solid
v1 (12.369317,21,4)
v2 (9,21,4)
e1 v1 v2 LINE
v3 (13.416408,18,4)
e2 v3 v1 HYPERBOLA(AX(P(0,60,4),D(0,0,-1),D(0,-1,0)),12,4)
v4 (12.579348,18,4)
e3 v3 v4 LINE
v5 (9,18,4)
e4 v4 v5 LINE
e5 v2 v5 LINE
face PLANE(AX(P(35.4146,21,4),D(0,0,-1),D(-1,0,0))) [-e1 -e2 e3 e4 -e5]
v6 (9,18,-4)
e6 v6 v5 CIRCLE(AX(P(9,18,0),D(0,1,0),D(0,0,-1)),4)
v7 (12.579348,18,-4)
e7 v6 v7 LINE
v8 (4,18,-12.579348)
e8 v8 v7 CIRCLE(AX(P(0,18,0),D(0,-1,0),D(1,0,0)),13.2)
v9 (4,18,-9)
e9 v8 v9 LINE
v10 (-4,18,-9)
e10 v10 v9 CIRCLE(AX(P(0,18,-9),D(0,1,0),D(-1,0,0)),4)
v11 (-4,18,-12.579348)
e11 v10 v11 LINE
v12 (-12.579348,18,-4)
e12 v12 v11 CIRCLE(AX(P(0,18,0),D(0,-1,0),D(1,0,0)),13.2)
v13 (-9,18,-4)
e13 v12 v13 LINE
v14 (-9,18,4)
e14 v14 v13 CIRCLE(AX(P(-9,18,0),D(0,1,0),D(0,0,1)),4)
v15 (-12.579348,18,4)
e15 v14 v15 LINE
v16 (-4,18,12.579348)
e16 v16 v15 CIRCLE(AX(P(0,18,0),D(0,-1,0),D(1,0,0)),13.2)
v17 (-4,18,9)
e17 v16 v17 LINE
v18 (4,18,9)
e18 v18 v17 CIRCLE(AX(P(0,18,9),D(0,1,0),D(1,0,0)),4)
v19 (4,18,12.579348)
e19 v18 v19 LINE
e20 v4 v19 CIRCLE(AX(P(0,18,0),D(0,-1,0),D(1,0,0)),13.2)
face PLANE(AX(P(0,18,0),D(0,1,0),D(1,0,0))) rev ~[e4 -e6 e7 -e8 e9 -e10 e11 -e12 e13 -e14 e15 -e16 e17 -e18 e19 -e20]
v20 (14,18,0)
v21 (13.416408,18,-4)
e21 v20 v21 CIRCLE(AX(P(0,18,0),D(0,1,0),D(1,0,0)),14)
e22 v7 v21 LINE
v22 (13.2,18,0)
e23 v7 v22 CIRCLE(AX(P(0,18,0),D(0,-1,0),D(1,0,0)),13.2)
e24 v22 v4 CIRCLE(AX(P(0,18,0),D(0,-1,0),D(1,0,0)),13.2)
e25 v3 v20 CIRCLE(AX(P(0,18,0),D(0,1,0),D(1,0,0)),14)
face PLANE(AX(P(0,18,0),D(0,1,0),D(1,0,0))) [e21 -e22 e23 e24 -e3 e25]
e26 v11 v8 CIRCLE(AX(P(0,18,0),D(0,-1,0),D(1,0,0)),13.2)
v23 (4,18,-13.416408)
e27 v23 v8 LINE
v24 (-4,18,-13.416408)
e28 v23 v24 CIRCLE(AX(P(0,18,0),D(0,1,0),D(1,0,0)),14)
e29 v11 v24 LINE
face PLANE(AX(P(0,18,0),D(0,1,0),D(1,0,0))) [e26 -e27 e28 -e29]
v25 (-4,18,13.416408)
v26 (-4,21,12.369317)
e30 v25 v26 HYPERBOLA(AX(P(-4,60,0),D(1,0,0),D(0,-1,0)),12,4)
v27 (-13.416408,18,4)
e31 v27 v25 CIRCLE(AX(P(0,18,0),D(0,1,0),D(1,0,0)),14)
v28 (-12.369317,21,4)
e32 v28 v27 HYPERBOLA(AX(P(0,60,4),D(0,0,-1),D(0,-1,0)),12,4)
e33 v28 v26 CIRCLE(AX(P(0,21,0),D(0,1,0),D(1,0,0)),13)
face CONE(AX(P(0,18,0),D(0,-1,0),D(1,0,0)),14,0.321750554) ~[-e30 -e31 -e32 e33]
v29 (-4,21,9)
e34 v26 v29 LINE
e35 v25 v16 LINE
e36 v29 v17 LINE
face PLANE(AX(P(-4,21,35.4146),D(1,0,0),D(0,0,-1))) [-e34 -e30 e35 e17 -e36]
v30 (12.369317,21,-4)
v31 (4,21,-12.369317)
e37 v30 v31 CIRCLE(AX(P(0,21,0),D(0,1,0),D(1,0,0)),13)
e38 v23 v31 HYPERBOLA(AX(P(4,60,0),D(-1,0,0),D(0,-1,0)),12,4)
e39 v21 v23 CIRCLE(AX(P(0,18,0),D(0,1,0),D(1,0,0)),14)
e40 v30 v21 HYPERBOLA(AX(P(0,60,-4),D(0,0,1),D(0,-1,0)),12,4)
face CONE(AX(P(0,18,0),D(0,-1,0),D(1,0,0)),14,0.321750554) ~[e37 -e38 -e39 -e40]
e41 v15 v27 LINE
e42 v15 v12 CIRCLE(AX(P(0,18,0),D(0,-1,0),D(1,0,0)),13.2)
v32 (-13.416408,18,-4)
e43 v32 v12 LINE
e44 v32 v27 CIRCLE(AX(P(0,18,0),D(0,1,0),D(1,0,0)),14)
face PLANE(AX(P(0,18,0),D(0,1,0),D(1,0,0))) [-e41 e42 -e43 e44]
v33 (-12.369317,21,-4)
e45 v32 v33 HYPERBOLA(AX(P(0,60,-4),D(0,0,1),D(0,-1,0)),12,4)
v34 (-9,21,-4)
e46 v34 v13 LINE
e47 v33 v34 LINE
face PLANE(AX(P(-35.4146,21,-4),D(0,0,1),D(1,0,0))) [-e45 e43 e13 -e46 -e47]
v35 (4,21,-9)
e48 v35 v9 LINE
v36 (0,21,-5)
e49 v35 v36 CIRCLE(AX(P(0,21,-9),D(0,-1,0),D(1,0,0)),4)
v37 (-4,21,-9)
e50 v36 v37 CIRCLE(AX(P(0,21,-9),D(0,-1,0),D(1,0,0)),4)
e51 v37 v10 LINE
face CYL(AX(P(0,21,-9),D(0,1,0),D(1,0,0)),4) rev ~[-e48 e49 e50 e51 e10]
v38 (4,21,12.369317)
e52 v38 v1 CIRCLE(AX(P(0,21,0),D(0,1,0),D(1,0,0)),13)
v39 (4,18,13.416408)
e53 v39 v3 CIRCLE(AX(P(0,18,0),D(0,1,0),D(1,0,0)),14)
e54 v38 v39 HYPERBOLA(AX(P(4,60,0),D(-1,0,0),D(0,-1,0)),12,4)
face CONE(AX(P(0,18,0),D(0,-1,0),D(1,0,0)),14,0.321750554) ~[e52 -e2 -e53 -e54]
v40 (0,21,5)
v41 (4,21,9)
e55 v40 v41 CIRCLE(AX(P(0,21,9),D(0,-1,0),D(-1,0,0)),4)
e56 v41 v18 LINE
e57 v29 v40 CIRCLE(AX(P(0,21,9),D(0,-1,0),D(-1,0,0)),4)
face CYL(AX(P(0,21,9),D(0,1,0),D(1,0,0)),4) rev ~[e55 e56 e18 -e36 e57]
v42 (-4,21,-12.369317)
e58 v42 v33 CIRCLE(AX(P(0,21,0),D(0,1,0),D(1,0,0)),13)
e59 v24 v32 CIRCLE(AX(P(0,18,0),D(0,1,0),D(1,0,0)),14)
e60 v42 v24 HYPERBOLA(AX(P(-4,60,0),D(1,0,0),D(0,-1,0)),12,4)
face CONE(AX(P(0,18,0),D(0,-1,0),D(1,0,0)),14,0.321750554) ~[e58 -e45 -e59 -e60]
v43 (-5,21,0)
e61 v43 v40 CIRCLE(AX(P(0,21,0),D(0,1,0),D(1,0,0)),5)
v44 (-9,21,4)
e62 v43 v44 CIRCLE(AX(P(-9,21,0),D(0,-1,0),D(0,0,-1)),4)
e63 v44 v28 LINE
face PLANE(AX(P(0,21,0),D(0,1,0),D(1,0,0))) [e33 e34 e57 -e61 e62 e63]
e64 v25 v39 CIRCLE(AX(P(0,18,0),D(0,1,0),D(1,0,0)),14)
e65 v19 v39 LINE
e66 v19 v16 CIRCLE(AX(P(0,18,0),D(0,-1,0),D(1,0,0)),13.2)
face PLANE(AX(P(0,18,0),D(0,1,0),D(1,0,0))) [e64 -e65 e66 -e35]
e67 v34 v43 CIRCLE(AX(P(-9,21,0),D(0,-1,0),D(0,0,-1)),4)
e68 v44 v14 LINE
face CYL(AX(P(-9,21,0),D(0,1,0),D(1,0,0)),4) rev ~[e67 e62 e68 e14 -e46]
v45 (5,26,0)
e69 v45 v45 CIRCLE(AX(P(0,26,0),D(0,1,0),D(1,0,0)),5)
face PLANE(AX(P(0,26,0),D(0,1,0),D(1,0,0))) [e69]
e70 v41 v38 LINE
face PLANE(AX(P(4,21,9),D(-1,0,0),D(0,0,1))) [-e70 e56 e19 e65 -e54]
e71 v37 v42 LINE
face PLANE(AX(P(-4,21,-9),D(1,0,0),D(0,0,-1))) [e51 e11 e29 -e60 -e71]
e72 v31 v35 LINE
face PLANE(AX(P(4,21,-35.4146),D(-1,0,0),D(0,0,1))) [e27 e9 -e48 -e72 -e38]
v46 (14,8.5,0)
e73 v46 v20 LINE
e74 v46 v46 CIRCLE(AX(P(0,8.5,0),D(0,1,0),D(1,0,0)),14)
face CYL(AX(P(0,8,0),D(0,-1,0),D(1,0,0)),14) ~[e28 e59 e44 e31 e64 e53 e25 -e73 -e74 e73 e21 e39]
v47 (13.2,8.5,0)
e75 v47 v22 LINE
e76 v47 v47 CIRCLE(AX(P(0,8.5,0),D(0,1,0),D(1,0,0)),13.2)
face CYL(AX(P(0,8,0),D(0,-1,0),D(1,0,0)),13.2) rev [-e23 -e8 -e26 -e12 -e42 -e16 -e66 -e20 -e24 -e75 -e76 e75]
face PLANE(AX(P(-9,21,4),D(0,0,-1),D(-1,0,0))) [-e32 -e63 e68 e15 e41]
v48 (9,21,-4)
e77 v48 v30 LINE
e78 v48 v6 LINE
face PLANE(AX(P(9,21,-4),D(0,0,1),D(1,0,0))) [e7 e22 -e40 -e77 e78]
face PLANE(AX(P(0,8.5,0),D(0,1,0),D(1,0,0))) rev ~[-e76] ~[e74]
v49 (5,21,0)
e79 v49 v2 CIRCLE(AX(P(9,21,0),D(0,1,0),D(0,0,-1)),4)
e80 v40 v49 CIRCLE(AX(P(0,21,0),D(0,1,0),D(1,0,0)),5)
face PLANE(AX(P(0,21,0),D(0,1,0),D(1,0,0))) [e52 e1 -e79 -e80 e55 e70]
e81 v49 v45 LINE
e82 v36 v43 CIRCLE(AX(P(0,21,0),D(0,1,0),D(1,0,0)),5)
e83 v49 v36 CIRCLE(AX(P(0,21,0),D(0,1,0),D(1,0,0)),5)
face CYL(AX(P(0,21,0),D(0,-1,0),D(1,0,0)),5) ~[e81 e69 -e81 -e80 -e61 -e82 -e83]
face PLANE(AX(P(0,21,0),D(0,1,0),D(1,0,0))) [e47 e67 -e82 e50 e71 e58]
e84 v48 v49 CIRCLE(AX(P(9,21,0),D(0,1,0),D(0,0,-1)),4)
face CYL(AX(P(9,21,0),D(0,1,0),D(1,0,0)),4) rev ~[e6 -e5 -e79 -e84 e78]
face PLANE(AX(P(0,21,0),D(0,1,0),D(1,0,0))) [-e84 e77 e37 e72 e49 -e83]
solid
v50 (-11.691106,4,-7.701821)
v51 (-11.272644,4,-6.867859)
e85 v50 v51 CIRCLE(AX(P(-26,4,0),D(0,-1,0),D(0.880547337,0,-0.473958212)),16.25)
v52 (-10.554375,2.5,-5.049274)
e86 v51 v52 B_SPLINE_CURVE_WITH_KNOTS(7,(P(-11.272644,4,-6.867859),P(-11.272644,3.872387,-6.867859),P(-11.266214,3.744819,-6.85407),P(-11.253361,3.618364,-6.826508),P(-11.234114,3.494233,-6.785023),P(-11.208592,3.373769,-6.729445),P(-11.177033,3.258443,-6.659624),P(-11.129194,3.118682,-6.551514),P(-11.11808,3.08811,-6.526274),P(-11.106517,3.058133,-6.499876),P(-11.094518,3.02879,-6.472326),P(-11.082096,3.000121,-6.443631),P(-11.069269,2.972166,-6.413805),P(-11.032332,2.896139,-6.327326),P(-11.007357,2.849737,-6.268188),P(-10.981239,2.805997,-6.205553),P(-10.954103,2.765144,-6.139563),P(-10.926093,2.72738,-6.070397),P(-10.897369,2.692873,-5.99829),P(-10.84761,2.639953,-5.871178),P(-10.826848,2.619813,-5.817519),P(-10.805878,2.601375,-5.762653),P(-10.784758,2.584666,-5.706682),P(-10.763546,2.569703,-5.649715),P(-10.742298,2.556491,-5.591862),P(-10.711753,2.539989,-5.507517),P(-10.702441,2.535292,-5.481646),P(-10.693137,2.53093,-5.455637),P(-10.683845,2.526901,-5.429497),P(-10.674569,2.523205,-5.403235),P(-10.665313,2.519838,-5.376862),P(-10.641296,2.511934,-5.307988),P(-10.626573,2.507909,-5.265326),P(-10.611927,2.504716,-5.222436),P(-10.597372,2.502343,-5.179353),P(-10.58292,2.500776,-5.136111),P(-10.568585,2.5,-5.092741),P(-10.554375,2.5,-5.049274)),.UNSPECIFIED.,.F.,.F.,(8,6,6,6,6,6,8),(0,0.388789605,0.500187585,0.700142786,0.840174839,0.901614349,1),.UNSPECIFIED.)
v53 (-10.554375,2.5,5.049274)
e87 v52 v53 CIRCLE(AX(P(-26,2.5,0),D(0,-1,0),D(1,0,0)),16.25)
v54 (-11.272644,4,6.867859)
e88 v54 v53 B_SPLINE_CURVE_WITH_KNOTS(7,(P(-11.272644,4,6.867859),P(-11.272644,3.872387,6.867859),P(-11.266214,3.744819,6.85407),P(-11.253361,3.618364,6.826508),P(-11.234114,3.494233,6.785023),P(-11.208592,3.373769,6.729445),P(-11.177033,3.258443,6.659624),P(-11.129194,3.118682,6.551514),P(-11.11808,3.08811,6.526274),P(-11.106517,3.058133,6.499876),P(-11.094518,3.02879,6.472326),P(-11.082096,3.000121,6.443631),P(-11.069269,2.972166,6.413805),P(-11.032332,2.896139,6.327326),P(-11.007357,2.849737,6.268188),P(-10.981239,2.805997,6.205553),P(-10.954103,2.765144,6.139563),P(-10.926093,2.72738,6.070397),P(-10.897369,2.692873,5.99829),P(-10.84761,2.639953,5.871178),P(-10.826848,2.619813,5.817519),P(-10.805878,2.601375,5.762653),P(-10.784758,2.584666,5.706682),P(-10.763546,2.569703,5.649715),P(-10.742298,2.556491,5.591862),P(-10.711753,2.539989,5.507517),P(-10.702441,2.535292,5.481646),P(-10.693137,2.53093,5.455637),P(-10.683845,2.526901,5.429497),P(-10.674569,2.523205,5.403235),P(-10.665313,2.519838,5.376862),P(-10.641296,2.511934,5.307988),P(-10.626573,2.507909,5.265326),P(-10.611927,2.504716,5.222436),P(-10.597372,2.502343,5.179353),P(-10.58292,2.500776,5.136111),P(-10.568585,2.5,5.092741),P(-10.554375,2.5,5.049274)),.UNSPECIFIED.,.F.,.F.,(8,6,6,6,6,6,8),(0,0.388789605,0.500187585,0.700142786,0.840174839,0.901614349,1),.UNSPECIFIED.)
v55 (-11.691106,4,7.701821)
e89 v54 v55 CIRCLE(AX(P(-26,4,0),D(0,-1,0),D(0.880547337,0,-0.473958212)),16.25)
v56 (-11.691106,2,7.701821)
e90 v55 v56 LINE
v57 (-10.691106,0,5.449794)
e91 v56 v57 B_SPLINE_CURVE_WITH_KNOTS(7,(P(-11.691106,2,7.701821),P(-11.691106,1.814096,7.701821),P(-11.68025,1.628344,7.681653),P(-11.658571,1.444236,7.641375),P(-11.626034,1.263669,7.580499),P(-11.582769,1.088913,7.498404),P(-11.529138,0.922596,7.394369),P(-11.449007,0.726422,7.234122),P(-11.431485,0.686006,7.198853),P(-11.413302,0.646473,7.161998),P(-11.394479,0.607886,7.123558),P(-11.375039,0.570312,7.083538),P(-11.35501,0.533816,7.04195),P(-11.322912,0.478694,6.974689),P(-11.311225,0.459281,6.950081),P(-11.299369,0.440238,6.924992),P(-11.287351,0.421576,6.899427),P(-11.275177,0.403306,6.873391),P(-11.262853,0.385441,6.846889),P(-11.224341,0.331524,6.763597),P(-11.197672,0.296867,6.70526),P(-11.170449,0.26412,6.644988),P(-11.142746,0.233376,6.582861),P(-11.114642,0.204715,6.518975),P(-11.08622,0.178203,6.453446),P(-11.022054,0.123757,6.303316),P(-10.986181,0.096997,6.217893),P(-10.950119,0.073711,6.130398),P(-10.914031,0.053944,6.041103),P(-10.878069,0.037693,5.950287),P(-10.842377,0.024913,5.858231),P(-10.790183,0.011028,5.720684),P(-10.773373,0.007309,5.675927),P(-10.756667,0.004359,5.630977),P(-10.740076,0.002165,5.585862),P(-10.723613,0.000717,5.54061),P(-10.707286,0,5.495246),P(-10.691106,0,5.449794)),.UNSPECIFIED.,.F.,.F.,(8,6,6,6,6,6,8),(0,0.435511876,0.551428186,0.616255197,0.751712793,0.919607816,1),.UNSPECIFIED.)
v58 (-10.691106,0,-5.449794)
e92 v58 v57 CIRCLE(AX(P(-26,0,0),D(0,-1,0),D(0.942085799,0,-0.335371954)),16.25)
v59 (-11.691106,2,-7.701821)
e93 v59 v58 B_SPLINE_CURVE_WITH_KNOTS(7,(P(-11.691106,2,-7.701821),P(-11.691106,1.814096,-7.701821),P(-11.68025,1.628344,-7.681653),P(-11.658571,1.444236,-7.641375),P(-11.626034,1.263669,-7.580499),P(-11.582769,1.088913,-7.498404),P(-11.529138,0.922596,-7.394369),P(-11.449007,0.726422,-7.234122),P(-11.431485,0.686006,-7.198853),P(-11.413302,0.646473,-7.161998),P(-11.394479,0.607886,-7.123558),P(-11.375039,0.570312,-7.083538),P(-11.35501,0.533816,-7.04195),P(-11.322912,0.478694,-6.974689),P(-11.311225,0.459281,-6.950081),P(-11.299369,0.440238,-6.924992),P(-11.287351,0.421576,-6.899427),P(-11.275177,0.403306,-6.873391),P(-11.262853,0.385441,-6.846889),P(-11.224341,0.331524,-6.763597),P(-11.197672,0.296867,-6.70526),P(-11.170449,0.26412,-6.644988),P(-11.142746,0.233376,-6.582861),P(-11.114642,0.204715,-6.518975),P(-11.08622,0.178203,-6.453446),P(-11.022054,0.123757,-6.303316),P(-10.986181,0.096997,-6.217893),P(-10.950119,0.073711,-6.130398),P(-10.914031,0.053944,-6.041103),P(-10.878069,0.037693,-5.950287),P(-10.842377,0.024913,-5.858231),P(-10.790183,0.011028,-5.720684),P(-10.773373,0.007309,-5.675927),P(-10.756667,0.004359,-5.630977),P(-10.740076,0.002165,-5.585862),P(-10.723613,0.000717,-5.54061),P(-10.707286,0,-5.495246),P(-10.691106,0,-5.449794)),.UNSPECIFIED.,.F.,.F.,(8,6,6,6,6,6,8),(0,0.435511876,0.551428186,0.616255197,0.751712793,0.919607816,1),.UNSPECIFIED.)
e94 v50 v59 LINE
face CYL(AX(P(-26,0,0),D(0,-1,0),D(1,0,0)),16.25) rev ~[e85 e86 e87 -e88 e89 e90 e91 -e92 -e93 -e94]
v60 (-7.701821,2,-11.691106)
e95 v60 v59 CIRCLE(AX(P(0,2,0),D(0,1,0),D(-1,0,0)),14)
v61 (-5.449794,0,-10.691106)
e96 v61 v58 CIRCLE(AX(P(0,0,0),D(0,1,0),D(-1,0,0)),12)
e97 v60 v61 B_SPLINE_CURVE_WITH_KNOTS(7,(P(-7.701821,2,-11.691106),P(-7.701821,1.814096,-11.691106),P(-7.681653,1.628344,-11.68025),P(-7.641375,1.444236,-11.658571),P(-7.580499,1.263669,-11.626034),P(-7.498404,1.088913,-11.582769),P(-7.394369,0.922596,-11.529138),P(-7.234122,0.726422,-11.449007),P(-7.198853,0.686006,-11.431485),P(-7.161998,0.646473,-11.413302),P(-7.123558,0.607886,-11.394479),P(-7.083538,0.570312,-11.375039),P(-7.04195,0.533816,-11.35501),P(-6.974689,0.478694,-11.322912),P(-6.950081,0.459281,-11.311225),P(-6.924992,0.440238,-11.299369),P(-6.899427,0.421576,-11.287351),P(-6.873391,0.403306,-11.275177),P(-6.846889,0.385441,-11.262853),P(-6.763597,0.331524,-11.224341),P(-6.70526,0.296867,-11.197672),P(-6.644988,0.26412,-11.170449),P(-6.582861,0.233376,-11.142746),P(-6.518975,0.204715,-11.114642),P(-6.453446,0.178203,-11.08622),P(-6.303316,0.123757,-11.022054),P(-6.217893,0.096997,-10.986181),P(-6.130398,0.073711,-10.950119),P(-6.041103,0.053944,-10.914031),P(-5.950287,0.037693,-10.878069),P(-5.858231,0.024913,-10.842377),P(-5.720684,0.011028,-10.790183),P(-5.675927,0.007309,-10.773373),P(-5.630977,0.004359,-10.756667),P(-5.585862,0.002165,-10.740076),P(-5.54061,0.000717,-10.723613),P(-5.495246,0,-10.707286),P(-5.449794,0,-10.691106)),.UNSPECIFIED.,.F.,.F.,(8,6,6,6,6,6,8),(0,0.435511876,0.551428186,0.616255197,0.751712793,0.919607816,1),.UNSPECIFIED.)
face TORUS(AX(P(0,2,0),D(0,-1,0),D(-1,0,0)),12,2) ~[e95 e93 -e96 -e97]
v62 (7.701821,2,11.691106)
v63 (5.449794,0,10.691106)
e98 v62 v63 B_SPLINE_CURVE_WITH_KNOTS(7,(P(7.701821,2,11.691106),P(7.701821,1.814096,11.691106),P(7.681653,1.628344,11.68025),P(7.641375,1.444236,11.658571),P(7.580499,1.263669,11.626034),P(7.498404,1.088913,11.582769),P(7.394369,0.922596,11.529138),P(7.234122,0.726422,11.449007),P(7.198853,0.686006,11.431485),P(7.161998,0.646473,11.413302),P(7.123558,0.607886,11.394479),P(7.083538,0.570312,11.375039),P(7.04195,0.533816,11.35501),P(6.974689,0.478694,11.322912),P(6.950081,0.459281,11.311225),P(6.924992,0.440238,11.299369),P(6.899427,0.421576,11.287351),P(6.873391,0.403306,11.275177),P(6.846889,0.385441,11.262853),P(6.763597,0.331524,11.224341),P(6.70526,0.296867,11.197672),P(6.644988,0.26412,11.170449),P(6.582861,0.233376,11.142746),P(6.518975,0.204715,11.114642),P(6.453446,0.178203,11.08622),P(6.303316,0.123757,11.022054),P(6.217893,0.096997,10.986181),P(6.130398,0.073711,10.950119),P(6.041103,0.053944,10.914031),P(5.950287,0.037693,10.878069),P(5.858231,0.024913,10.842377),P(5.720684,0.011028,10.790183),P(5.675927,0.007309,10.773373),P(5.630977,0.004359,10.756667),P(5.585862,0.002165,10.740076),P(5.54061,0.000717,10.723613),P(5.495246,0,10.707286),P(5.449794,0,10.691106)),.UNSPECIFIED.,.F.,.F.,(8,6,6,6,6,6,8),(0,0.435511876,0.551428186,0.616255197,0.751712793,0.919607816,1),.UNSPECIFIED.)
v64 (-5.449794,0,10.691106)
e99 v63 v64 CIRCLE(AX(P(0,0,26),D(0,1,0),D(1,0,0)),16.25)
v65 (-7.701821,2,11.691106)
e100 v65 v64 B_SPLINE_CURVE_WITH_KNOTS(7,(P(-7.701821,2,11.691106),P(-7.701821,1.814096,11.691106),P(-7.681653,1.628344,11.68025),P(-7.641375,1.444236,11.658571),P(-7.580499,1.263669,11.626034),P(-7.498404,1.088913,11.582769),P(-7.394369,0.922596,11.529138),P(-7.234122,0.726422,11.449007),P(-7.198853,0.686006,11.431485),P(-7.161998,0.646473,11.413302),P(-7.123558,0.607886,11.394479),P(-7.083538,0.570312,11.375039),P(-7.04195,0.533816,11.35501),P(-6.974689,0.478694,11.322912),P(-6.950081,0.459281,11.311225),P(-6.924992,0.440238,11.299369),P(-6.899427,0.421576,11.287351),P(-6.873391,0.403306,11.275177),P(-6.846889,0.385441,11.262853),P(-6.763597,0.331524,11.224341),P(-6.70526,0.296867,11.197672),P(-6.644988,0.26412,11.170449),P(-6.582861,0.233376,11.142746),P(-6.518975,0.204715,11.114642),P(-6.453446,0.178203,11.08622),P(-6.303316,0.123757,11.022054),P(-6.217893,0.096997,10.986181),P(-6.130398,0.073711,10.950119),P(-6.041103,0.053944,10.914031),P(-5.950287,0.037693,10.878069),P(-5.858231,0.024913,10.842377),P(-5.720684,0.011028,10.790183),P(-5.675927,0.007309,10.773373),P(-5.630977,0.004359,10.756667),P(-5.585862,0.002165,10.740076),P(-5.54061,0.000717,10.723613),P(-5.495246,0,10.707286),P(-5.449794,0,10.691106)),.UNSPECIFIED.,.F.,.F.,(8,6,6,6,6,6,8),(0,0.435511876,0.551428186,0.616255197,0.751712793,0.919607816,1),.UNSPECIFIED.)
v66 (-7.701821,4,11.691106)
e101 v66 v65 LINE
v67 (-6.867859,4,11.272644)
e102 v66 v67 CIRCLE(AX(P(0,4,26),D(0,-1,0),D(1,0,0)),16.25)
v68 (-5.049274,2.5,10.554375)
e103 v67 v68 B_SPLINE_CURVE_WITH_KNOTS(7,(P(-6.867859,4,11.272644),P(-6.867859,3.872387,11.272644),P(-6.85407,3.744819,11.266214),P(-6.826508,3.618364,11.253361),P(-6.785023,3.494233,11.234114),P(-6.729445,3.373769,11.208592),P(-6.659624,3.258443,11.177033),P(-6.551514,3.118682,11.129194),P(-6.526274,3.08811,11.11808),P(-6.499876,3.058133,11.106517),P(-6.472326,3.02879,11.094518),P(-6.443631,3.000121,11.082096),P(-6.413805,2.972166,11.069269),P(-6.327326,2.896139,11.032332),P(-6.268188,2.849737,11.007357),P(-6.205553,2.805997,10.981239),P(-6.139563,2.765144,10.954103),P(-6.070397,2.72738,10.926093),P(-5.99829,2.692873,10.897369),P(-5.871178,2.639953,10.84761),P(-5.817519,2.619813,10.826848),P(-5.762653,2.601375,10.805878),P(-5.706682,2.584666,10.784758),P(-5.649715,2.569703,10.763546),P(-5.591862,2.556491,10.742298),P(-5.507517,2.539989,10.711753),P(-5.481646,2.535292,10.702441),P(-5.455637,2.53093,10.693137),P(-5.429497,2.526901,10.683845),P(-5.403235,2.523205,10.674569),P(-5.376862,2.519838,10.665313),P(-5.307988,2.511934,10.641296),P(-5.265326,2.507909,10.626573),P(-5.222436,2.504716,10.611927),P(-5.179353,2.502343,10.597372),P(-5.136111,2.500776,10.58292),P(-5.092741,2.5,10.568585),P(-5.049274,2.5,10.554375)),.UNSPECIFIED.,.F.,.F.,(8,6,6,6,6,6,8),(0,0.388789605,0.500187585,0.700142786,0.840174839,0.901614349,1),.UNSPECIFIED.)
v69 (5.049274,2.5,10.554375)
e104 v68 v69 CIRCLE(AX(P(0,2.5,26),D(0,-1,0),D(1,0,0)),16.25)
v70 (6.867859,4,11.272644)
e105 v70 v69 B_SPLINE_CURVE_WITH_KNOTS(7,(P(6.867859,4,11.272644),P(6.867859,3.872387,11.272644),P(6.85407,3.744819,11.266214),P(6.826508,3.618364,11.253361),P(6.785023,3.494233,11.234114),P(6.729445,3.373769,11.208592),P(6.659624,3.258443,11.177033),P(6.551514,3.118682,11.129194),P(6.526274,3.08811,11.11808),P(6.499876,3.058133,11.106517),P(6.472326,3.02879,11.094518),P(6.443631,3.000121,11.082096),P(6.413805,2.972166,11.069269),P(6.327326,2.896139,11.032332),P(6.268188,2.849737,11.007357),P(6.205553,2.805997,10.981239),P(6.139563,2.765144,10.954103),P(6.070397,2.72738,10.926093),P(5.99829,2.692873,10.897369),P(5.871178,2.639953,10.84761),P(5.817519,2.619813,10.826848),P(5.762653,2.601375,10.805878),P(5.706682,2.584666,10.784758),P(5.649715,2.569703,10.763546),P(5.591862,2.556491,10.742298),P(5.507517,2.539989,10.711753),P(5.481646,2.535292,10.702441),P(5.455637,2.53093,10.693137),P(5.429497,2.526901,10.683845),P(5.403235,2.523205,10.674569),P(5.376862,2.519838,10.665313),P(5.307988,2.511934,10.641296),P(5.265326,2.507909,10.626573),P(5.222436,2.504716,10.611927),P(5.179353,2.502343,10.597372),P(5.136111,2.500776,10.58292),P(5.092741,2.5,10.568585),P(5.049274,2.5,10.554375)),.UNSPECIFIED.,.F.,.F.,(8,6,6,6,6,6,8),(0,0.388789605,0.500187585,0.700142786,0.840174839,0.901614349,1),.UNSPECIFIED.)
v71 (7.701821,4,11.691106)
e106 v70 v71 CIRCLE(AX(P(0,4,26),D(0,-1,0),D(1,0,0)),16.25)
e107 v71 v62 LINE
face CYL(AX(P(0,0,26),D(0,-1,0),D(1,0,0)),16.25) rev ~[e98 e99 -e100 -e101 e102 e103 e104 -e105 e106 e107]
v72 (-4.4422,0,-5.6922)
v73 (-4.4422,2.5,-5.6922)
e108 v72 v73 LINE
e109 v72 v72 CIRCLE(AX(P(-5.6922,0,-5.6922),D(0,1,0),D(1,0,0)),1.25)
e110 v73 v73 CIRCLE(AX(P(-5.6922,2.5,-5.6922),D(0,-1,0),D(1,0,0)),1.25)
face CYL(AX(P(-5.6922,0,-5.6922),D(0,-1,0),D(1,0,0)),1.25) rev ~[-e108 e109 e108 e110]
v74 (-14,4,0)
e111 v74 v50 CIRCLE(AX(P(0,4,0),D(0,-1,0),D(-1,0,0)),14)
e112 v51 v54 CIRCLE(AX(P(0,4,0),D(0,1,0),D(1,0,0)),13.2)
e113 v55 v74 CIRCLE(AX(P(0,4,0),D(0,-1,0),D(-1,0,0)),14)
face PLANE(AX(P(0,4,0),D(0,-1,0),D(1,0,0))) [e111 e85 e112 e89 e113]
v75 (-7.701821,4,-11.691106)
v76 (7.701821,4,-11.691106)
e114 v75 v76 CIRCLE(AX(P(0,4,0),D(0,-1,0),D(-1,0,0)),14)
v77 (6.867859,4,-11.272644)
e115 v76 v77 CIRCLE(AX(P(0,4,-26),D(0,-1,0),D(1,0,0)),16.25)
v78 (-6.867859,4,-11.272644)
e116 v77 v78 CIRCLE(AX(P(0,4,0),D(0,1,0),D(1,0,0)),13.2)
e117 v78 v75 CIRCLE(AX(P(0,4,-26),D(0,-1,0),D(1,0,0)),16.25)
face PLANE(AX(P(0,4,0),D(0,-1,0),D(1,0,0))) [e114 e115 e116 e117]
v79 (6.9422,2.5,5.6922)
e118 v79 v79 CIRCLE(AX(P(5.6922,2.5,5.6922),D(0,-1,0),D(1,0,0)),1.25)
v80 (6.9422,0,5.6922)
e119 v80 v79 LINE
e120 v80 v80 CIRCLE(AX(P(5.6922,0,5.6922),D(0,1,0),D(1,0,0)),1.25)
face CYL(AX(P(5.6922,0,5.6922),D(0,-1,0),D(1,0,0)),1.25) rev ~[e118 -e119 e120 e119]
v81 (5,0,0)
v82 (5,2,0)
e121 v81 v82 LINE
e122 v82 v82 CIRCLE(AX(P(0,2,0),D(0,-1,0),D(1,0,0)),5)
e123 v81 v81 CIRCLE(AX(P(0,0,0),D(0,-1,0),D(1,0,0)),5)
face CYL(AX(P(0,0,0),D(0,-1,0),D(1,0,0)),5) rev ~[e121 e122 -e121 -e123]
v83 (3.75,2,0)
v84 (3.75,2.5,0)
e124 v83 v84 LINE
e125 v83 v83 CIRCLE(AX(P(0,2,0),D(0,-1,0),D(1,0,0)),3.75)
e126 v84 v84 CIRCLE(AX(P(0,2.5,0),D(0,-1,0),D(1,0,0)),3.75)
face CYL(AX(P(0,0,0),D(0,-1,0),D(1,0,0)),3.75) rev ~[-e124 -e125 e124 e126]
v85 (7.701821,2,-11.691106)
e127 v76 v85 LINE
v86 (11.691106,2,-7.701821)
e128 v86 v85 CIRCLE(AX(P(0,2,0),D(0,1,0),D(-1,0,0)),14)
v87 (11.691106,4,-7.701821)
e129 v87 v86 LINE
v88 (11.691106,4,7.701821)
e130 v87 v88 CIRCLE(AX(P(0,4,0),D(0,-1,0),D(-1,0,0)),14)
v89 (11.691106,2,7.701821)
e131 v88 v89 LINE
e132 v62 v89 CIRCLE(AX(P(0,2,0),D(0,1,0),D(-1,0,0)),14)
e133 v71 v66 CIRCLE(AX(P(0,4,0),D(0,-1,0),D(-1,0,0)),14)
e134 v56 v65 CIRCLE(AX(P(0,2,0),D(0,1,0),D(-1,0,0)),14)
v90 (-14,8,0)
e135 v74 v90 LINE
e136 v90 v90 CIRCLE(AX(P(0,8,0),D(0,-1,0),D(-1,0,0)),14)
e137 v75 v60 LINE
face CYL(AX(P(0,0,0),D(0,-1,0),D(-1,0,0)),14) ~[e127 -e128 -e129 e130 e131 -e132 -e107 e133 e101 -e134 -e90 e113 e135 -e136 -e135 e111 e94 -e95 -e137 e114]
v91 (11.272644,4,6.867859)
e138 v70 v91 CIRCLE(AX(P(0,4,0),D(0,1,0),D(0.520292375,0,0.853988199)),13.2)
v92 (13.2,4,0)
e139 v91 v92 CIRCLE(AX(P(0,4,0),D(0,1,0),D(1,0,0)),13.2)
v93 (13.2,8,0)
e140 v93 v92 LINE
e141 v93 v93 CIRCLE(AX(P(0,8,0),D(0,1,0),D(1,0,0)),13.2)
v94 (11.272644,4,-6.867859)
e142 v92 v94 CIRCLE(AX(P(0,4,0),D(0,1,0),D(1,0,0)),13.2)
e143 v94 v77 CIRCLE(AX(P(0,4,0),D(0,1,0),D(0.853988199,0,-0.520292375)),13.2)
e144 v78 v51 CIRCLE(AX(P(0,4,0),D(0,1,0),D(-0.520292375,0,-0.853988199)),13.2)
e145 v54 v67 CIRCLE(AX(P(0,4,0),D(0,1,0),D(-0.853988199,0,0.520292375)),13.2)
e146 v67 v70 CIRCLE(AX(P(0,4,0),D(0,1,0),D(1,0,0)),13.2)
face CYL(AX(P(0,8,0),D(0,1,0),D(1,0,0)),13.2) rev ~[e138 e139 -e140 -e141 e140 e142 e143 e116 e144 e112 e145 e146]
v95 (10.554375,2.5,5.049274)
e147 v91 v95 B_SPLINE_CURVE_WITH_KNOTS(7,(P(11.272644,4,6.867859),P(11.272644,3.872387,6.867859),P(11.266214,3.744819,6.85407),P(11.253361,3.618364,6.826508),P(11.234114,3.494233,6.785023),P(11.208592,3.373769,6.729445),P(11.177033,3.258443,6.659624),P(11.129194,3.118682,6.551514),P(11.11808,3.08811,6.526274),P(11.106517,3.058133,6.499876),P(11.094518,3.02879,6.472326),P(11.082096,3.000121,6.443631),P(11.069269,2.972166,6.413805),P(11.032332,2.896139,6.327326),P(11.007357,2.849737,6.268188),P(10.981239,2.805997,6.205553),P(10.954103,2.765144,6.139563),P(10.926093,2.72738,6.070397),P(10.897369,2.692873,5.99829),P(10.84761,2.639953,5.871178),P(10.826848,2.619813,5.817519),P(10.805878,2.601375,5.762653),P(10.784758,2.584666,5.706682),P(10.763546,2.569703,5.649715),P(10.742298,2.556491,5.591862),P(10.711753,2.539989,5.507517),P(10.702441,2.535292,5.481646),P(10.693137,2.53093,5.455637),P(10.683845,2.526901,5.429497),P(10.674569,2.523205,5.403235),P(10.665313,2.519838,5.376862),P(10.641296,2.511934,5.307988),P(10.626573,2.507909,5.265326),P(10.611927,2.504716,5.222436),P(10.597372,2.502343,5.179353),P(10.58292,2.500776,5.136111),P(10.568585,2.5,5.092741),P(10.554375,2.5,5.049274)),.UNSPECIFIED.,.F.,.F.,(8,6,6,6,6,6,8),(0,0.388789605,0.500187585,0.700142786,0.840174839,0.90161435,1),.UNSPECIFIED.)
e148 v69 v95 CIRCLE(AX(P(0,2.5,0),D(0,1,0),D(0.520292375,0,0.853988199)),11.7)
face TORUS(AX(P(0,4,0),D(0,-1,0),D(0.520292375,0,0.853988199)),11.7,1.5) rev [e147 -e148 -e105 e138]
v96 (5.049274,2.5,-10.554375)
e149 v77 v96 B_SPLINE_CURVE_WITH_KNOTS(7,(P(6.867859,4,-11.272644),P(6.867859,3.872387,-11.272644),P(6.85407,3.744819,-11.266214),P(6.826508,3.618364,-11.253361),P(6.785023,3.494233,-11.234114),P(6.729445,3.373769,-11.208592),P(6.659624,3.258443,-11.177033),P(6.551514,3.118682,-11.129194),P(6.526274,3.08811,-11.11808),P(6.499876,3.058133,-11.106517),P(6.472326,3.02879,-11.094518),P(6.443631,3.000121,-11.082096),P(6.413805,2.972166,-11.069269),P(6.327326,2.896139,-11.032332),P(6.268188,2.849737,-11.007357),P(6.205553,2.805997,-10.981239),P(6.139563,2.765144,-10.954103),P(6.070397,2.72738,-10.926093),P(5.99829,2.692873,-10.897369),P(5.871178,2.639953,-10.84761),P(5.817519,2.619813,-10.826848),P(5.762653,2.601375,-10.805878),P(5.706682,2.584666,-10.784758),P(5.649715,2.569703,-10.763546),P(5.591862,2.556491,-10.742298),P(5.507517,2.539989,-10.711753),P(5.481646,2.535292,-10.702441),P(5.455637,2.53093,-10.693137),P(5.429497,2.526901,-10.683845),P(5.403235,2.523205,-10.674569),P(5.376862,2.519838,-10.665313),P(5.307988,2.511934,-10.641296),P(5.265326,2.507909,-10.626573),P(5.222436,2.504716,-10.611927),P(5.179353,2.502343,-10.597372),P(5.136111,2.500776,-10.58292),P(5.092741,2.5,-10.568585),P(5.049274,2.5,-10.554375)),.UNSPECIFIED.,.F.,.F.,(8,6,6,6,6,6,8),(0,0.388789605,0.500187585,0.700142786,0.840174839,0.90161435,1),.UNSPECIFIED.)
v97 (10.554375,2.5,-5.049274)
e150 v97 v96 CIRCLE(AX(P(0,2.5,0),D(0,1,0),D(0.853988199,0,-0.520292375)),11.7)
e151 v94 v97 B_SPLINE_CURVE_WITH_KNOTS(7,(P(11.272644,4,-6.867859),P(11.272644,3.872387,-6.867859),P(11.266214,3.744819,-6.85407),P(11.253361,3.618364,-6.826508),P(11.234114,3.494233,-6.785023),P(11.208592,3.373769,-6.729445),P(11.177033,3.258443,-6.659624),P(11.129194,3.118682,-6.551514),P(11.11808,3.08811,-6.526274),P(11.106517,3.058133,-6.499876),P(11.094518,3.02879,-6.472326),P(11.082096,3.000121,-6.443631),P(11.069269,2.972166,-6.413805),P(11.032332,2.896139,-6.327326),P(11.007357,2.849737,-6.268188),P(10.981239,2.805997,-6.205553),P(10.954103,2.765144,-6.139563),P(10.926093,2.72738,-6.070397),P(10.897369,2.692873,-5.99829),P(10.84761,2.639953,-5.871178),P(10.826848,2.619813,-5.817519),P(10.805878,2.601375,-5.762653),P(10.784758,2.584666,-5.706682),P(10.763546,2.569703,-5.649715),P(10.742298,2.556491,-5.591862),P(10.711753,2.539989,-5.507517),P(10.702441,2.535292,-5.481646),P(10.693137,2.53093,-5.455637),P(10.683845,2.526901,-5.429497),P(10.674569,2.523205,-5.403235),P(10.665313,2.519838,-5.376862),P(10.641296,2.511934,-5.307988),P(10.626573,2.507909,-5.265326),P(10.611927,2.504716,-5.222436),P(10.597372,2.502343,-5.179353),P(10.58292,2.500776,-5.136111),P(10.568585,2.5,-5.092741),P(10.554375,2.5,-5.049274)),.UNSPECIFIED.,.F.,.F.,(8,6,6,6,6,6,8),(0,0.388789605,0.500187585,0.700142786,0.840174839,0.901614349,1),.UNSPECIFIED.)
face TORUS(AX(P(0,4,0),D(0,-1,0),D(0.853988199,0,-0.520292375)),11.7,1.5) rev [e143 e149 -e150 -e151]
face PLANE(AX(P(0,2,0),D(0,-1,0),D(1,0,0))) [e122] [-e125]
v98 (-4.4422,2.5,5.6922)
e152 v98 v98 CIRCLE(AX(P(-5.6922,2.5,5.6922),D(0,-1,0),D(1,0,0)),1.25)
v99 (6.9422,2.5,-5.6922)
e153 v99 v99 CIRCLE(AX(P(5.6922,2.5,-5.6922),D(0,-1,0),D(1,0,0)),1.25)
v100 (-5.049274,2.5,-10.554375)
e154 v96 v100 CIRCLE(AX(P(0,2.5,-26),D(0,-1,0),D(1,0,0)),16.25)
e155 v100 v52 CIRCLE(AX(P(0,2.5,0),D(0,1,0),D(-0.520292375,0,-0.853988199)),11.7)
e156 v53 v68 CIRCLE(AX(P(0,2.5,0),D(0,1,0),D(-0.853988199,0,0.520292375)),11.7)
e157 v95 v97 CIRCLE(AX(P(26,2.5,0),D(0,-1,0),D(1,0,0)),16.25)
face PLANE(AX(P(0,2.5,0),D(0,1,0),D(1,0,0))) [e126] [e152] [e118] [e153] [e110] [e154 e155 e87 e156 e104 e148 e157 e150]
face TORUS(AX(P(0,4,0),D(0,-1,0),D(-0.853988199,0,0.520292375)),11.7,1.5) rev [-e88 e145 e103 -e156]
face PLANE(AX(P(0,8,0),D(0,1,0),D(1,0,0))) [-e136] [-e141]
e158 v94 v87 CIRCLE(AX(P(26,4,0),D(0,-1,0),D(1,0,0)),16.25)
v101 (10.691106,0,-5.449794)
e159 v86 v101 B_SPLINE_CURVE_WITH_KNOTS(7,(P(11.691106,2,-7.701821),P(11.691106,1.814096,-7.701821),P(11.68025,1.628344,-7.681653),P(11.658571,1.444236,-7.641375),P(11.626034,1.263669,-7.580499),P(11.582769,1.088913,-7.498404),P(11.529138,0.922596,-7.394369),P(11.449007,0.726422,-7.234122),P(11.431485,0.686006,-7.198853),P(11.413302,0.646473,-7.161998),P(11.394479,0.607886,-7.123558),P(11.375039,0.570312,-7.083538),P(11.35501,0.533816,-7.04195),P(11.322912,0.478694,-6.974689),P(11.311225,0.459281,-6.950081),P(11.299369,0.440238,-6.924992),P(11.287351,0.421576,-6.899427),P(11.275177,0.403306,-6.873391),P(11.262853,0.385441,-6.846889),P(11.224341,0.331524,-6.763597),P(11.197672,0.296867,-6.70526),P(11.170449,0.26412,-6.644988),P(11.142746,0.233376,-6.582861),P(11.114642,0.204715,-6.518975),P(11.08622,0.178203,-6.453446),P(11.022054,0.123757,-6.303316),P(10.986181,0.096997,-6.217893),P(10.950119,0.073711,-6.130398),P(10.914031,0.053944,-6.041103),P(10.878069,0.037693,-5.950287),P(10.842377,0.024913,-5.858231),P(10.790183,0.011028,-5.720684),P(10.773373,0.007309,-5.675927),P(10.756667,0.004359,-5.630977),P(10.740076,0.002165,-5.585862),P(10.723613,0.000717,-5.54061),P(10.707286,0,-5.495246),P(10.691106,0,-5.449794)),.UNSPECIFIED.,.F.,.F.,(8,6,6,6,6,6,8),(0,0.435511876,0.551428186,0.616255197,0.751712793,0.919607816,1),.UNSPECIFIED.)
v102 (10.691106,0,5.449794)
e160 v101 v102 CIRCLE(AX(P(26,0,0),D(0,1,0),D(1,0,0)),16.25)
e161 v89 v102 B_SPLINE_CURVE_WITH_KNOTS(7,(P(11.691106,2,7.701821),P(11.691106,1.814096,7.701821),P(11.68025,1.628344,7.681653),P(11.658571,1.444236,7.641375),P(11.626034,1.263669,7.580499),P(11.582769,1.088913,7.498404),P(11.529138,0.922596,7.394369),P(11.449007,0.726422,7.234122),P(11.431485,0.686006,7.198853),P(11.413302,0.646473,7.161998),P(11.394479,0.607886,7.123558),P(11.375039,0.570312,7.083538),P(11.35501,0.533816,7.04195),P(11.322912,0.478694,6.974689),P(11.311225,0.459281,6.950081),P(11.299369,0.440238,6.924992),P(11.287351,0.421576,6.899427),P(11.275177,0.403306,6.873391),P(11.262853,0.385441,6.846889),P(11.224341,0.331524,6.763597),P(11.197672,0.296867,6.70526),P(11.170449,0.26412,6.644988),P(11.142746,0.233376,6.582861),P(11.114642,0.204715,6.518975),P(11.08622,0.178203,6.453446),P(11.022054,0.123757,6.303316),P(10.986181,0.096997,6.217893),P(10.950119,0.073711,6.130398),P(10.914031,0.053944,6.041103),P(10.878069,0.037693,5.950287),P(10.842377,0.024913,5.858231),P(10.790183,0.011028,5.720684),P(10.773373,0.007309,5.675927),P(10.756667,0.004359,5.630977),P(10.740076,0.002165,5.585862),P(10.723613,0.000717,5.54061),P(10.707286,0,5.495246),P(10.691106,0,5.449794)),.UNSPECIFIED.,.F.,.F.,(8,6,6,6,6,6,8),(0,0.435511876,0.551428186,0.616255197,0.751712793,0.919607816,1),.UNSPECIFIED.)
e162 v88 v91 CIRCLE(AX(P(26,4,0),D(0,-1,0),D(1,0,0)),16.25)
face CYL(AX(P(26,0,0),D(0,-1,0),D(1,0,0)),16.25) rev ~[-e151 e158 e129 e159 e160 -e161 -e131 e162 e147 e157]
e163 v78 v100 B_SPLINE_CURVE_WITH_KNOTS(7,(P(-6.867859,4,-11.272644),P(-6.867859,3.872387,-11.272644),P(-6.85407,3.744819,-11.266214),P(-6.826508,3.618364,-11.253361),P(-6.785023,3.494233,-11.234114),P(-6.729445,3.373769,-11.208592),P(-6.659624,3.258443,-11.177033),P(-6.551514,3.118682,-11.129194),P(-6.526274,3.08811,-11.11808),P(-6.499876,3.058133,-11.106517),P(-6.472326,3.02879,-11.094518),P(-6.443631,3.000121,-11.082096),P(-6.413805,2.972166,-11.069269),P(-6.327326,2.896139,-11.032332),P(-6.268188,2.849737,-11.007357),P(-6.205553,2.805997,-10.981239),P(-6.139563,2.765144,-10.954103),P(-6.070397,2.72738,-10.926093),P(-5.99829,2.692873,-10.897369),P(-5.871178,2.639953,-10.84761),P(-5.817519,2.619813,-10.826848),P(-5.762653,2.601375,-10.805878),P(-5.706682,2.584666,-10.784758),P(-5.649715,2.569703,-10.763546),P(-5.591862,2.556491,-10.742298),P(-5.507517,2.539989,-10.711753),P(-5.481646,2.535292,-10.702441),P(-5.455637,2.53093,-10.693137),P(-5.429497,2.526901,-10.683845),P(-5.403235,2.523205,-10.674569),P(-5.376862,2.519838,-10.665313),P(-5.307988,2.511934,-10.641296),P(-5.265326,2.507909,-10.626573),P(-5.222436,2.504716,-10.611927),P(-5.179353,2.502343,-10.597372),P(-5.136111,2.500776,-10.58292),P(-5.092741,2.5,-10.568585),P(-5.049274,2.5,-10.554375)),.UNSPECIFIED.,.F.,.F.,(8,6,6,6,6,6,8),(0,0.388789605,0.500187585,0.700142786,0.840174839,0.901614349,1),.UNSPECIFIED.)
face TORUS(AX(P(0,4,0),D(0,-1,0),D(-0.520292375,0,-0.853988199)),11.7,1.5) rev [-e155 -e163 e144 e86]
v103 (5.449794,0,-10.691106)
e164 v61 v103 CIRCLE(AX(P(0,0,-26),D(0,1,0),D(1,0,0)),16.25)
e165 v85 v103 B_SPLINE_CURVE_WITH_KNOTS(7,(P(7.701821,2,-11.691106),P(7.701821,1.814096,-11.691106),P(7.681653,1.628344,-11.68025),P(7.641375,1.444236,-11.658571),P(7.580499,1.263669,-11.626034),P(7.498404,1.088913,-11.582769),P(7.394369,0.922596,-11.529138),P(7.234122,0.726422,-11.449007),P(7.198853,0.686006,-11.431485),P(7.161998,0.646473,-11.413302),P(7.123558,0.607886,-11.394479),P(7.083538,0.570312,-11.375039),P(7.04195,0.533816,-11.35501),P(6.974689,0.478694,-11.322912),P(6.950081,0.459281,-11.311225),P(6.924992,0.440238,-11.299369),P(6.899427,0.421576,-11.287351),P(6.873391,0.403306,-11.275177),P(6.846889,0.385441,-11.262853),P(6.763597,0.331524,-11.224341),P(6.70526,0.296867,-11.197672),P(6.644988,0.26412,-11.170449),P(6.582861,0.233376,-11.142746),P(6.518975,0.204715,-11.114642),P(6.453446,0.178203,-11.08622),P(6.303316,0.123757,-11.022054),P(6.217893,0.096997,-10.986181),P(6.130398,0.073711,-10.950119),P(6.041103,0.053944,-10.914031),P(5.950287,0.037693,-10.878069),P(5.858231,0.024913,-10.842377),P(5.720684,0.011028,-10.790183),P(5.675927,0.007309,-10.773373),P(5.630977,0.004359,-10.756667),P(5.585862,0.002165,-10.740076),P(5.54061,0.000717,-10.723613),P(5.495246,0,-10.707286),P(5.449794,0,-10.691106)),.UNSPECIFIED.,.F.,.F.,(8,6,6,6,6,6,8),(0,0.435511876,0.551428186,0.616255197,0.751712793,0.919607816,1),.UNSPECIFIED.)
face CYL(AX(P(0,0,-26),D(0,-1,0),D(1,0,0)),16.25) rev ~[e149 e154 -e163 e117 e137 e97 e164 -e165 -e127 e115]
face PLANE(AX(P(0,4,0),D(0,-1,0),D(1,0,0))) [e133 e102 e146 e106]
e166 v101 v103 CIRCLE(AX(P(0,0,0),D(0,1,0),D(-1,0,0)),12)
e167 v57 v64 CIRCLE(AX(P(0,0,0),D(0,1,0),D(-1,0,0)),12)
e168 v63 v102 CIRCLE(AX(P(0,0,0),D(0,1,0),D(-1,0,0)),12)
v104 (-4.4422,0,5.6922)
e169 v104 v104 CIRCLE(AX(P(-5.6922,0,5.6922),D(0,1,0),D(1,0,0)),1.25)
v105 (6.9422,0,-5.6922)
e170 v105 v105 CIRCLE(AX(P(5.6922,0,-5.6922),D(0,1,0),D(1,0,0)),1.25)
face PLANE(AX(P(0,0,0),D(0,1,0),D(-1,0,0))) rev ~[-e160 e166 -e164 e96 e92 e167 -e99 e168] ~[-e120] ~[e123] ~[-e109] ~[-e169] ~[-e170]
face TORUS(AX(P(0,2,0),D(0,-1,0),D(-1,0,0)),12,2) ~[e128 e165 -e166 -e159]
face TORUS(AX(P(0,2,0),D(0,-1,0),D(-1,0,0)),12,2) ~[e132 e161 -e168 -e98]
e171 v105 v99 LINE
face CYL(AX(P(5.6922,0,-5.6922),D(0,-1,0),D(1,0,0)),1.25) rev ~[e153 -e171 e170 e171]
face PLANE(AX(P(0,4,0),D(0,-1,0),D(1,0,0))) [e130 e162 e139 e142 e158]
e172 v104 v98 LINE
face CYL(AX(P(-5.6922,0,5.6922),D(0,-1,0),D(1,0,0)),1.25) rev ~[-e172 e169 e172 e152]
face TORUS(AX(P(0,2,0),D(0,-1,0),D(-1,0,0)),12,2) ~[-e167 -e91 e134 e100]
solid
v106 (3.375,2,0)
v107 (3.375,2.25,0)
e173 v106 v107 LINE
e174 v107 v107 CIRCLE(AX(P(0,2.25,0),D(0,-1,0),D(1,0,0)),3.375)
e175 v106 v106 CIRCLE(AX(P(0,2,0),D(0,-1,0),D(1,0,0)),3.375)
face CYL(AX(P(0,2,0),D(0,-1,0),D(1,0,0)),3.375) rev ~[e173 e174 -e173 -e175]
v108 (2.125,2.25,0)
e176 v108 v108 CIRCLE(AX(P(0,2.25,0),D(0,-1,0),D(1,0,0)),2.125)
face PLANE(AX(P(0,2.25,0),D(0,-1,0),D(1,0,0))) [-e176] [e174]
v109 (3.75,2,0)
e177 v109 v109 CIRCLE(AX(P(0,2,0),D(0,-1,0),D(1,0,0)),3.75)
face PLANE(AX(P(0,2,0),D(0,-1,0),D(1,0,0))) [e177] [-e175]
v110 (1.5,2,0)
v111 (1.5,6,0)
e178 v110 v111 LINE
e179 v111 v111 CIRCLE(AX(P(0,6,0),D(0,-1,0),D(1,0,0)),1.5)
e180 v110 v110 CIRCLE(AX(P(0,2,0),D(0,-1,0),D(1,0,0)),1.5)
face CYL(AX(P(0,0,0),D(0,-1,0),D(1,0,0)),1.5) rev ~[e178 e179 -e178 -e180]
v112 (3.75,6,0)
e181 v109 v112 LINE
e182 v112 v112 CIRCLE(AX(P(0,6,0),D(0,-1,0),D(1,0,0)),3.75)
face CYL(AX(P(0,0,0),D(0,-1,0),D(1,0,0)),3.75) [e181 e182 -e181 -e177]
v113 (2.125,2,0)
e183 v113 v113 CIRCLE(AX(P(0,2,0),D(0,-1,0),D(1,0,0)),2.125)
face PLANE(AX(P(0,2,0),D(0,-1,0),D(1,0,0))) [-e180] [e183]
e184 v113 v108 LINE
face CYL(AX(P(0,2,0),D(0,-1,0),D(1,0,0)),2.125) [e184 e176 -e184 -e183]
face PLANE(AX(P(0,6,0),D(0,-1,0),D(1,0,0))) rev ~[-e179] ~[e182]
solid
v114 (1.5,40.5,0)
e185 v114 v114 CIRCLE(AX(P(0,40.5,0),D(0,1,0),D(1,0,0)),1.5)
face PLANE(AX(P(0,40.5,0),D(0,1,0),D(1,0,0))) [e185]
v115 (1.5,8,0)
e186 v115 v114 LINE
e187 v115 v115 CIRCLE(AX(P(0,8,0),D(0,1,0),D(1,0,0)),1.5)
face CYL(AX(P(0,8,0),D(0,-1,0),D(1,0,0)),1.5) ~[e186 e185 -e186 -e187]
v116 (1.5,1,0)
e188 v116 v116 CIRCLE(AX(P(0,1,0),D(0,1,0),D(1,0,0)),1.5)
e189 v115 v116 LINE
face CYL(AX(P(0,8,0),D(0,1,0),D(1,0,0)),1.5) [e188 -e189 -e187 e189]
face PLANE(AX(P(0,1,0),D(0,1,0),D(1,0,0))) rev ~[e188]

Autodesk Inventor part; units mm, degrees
ref_plane "YZ Plane" through (0, 0, 0) normal (1, 0, 0) x (0, 1, 0)
ref_plane "XZ Plane" through (0, 0, 0) normal (0, 1, 0) x (-1, 0, 0)
ref_plane "XY Plane" through (0, 0, 0) normal (0, 0, 1) x (1, 0, 0)
sketch "Sketch1" plane through (0, 0, 0) normal (0, 1, 0) x (-1, 0, 0)
  circle A0 centre (0, 0) radius 14
  dimension "d0" = 28
extrude "Extrusion1" add sketch "Sketch1" along normal blind 8
sketch "Sketch2" plane through (0, 8, 0) normal (0, 1, 0) x (1, 0, 0)
  circle A0 centre (0, 0) radius 1.5
  dimension "d3" = 3
extrude "Extrusion2" cut sketch "Sketch2" against normal blind 8
extrude "Extrusion3" add sketch "Sketch2" along normal blind 32.5 and the other way blind 7 separate body
sketch "Sketch3" plane through (0, 0, 0) normal (0, -1, 0) x (1, 0, 0)
  circle A0 centre (0, 0) radius 3.75
  circle A1 centre (0, 0) radius 1.5
  dimension "d10" = 7.5
extrude "Extrusion4" cut sketch "Sketch3" against normal through all contours A0 | A1 bodies 1
extrude "Extrusion5" add sketch "Sketch3" against normal blind 6 separate body
sketch "Sketch4" plane through (0, 0, 0) normal (0, -1, 0) x (1, 0, 0)
  circle A0 centre (0, 0) radius 3.75 projected
  circle A1 centre (0, 0) radius 1.5 projected
extrude "Extrusion6" cut sketch "Sketch4" against normal blind 2 bodies 3
sketch "Sketch5" plane through (0, 0, 0) normal (0, -1, 0) x (1, 0, 0)
  circle A0 centre (0, 0) radius 5
  dimension "d17" = 10
extrude "Extrusion7" cut sketch "Sketch5" against normal blind 2 bodies 1
sketch "Sketch6" plane through (0, 2, 0) normal (0, -1, 0) x (1, 0, 0)
  circle A0 centre (0, 0) radius 2.125
  circle A1 centre (0, 0) radius 3.375
  dimension "d20" = 6.75
  dimension "d21" = 4.25
extrude "Extrusion8" cut sketch "Sketch6" against normal blind 0.25 bodies 3
sketch "Sketch7" plane through (0, 8, 0) normal (0, 1, 0) x (1, 0, 0)
  circle A0 centre (0, 0) radius 14 projected
  circle A1 centre (0, 0) radius 13.2
  circle A2 centre (0, 0) radius 3.75 projected
  circle A3 centre (0, 0) radius 14
  dimension "d24" = 26.4
extrude "Extrusion9" add sketch "Sketch7" along normal blind 13 contours A0 bodies 1
extrude "Extrusion10" cut sketch "Sketch7" along normal blind 0.5 contours A0 bodies 1
sketch "Sketch8" plane through (0, 21, 0) normal (0, 1, 0) x (1, 0, 0)
  circle A0 centre (0, 0) radius 14 projected
extrude "Extrusion11" add sketch "Sketch8" against normal blind 3 bodies 1
sketch "Sketch9" plane through (0, 21, 0) normal (0, 1, 0) x (1, 0, 0)
  circle A0 centre (0, 0) radius 5
  dimension "d31" = 10
extrude "Extrusion12" add sketch "Sketch9" along normal blind 5 bodies 1
chamfer "Chamfer1" distance 1 distance2 3 1 edges at (-14, 21, 0) measured on face at (10.816, 21, 1.5157)
fillet "Fillet1" radius 2 1 edges at (14, 0, 0)
sketch "Sketch10" plane through (0, 0, 0) normal (0, -1, 0) x (1, 0, 0)
  circle A0 centre (0, 26) radius 16.25
  circle A1 centre (26, 0) radius 16.25
  circle A2 centre (0, -26) radius 16.25
  circle A3 centre (-26, 0) radius 16.25
  line L0 (0, 0) -> (17.3455, 0)
  circle A4 centre (0, 0) radius 1.5 projected
  line L1 (0, 0) -> (0, -21.6607)
  circle A5 centre (0, 0) radius 9.75
  dimension "d38" = 26
  dimension "d39" = 26
  dimension "d40" = 19.5
extrude "Extrusion13" cut sketch "Sketch10" against normal blind 4 contours A0 | A1 | A2 | A3 bodies 1
sketch "Sketch11" plane through (0, 8, 0) normal (0, 1, 0) x (1, 0, 0)
  circle A0 centre (0, 0) radius 13.2
extrude "Extrusion14" cut sketch "Sketch11" against normal blind 5.5 bodies 1
fillet "Fillet2" radius 1.5 4 edges at (-9.3338, 2.5, -9.3338) (-9.3338, 2.5, 9.3338) (9.3338, 2.5, -9.3338) (9.3338, 2.5, 9.3338)
sketch "Sketch12" plane through (0, 21, 0) normal (0, 1, 0) x (1, 0, 0)
  circle A0 centre (9, 0) radius 4
  line L0 (35.4146, -4) -> (9, -4)
  line L1 (9, -4) -> (9, 4)
  line L2 (9, 4) -> (35.4146, 4)
  line L3 (35.4146, 4) -> (35.4146, -4)
  circle A1 centre (0, 0) radius 1.5 projected
  line L4 (0, 0) -> (40.9153, 0)
  circle A2 centre (0, 0) radius 5 projected
  circle A3 centre (0, -9) radius 4
  line L5 (-4, -35.4146) -> (-4, -9)
  line L6 (4, -9) -> (4, -35.4146)
  line L7 (-4, -9) -> (4, -9)
  line L8 (4, -35.4146) -> (-4, -35.4146)
  circle A4 centre (-9, 0) radius 4
  line L9 (-35.4146, 4) -> (-9, 4)
  line L10 (-9, -4) -> (-35.4146, -4)
  line L11 (-9, 4) -> (-9, -4)
  line L12 (-35.4146, -4) -> (-35.4146, 4)
  circle A5 centre (0, 9) radius 4
  line L13 (4, 35.4146) -> (4, 9)
  line L14 (-4, 9) -> (-4, 35.4146)
  line L15 (4, 9) -> (-4, 9)
  line L16 (-4, 35.4146) -> (4, 35.4146)
  dimension "d46" = 8
  dimension "d49" = 360
extrude "Extrusion15" cut sketch "Sketch12" against normal blind 3 contours L4 L1 A0 | L4 L3 L0 A0 | A0 L1 L4 | A0 L2 L3 L4 | L1 L4 A0 | A3 L7 | A4 L11 | A5 L15 | A0 L4 L1 | L14 L16 L13 A5 | A5 L15 | L6 L8 L5 A3 | A3 L7 | L11 A4 | A4 L10 L12 L9 bodies 1
sketch "Sketch13" plane through (0, 0, 0) normal (0, -1, 0) x (1, 0, 0)
  circle A0 centre (0, 0) radius 6.8
  line L0 (0, 0) -> (-8.9883, 8.9883)
  line L1 (0, 0) -> (12.7114, 0) construction
  circle A1 centre (-5.6922, 5.6922) radius 1.25
  circle A2 centre (-5.6922, -5.6922) radius 1.25
  circle A3 centre (5.6922, -5.6922) radius 1.25
  circle A4 centre (5.6922, 5.6922) radius 1.25
  dimension "d53" = 135
  dimension "d54" = 2.5
  dimension "d55" = 13.6
  dimension "d58" = 360
extrude "Extrusion16" cut sketch "Sketch13" against normal blind 3 contours A3 | A2 | A1 L0 | L0 A1 | A4 bodies 1
thread "Thread1" size "M2.5x0.45" class "6H" standard "ANSI Metric M Profile" full length
thread "Thread2" size "M2.5x0.45" class "6H" standard "ANSI Metric M Profile" full length
thread "Thread3" size "M2.5x0.45" class "6H" standard "ANSI Metric M Profile" full length
thread "Thread4" size "M2.5x0.45" class "6H" standard "ANSI Metric M Profile" full length
equation "\"d39\" = d38"
properties part number "redox_bl_400_1400"
